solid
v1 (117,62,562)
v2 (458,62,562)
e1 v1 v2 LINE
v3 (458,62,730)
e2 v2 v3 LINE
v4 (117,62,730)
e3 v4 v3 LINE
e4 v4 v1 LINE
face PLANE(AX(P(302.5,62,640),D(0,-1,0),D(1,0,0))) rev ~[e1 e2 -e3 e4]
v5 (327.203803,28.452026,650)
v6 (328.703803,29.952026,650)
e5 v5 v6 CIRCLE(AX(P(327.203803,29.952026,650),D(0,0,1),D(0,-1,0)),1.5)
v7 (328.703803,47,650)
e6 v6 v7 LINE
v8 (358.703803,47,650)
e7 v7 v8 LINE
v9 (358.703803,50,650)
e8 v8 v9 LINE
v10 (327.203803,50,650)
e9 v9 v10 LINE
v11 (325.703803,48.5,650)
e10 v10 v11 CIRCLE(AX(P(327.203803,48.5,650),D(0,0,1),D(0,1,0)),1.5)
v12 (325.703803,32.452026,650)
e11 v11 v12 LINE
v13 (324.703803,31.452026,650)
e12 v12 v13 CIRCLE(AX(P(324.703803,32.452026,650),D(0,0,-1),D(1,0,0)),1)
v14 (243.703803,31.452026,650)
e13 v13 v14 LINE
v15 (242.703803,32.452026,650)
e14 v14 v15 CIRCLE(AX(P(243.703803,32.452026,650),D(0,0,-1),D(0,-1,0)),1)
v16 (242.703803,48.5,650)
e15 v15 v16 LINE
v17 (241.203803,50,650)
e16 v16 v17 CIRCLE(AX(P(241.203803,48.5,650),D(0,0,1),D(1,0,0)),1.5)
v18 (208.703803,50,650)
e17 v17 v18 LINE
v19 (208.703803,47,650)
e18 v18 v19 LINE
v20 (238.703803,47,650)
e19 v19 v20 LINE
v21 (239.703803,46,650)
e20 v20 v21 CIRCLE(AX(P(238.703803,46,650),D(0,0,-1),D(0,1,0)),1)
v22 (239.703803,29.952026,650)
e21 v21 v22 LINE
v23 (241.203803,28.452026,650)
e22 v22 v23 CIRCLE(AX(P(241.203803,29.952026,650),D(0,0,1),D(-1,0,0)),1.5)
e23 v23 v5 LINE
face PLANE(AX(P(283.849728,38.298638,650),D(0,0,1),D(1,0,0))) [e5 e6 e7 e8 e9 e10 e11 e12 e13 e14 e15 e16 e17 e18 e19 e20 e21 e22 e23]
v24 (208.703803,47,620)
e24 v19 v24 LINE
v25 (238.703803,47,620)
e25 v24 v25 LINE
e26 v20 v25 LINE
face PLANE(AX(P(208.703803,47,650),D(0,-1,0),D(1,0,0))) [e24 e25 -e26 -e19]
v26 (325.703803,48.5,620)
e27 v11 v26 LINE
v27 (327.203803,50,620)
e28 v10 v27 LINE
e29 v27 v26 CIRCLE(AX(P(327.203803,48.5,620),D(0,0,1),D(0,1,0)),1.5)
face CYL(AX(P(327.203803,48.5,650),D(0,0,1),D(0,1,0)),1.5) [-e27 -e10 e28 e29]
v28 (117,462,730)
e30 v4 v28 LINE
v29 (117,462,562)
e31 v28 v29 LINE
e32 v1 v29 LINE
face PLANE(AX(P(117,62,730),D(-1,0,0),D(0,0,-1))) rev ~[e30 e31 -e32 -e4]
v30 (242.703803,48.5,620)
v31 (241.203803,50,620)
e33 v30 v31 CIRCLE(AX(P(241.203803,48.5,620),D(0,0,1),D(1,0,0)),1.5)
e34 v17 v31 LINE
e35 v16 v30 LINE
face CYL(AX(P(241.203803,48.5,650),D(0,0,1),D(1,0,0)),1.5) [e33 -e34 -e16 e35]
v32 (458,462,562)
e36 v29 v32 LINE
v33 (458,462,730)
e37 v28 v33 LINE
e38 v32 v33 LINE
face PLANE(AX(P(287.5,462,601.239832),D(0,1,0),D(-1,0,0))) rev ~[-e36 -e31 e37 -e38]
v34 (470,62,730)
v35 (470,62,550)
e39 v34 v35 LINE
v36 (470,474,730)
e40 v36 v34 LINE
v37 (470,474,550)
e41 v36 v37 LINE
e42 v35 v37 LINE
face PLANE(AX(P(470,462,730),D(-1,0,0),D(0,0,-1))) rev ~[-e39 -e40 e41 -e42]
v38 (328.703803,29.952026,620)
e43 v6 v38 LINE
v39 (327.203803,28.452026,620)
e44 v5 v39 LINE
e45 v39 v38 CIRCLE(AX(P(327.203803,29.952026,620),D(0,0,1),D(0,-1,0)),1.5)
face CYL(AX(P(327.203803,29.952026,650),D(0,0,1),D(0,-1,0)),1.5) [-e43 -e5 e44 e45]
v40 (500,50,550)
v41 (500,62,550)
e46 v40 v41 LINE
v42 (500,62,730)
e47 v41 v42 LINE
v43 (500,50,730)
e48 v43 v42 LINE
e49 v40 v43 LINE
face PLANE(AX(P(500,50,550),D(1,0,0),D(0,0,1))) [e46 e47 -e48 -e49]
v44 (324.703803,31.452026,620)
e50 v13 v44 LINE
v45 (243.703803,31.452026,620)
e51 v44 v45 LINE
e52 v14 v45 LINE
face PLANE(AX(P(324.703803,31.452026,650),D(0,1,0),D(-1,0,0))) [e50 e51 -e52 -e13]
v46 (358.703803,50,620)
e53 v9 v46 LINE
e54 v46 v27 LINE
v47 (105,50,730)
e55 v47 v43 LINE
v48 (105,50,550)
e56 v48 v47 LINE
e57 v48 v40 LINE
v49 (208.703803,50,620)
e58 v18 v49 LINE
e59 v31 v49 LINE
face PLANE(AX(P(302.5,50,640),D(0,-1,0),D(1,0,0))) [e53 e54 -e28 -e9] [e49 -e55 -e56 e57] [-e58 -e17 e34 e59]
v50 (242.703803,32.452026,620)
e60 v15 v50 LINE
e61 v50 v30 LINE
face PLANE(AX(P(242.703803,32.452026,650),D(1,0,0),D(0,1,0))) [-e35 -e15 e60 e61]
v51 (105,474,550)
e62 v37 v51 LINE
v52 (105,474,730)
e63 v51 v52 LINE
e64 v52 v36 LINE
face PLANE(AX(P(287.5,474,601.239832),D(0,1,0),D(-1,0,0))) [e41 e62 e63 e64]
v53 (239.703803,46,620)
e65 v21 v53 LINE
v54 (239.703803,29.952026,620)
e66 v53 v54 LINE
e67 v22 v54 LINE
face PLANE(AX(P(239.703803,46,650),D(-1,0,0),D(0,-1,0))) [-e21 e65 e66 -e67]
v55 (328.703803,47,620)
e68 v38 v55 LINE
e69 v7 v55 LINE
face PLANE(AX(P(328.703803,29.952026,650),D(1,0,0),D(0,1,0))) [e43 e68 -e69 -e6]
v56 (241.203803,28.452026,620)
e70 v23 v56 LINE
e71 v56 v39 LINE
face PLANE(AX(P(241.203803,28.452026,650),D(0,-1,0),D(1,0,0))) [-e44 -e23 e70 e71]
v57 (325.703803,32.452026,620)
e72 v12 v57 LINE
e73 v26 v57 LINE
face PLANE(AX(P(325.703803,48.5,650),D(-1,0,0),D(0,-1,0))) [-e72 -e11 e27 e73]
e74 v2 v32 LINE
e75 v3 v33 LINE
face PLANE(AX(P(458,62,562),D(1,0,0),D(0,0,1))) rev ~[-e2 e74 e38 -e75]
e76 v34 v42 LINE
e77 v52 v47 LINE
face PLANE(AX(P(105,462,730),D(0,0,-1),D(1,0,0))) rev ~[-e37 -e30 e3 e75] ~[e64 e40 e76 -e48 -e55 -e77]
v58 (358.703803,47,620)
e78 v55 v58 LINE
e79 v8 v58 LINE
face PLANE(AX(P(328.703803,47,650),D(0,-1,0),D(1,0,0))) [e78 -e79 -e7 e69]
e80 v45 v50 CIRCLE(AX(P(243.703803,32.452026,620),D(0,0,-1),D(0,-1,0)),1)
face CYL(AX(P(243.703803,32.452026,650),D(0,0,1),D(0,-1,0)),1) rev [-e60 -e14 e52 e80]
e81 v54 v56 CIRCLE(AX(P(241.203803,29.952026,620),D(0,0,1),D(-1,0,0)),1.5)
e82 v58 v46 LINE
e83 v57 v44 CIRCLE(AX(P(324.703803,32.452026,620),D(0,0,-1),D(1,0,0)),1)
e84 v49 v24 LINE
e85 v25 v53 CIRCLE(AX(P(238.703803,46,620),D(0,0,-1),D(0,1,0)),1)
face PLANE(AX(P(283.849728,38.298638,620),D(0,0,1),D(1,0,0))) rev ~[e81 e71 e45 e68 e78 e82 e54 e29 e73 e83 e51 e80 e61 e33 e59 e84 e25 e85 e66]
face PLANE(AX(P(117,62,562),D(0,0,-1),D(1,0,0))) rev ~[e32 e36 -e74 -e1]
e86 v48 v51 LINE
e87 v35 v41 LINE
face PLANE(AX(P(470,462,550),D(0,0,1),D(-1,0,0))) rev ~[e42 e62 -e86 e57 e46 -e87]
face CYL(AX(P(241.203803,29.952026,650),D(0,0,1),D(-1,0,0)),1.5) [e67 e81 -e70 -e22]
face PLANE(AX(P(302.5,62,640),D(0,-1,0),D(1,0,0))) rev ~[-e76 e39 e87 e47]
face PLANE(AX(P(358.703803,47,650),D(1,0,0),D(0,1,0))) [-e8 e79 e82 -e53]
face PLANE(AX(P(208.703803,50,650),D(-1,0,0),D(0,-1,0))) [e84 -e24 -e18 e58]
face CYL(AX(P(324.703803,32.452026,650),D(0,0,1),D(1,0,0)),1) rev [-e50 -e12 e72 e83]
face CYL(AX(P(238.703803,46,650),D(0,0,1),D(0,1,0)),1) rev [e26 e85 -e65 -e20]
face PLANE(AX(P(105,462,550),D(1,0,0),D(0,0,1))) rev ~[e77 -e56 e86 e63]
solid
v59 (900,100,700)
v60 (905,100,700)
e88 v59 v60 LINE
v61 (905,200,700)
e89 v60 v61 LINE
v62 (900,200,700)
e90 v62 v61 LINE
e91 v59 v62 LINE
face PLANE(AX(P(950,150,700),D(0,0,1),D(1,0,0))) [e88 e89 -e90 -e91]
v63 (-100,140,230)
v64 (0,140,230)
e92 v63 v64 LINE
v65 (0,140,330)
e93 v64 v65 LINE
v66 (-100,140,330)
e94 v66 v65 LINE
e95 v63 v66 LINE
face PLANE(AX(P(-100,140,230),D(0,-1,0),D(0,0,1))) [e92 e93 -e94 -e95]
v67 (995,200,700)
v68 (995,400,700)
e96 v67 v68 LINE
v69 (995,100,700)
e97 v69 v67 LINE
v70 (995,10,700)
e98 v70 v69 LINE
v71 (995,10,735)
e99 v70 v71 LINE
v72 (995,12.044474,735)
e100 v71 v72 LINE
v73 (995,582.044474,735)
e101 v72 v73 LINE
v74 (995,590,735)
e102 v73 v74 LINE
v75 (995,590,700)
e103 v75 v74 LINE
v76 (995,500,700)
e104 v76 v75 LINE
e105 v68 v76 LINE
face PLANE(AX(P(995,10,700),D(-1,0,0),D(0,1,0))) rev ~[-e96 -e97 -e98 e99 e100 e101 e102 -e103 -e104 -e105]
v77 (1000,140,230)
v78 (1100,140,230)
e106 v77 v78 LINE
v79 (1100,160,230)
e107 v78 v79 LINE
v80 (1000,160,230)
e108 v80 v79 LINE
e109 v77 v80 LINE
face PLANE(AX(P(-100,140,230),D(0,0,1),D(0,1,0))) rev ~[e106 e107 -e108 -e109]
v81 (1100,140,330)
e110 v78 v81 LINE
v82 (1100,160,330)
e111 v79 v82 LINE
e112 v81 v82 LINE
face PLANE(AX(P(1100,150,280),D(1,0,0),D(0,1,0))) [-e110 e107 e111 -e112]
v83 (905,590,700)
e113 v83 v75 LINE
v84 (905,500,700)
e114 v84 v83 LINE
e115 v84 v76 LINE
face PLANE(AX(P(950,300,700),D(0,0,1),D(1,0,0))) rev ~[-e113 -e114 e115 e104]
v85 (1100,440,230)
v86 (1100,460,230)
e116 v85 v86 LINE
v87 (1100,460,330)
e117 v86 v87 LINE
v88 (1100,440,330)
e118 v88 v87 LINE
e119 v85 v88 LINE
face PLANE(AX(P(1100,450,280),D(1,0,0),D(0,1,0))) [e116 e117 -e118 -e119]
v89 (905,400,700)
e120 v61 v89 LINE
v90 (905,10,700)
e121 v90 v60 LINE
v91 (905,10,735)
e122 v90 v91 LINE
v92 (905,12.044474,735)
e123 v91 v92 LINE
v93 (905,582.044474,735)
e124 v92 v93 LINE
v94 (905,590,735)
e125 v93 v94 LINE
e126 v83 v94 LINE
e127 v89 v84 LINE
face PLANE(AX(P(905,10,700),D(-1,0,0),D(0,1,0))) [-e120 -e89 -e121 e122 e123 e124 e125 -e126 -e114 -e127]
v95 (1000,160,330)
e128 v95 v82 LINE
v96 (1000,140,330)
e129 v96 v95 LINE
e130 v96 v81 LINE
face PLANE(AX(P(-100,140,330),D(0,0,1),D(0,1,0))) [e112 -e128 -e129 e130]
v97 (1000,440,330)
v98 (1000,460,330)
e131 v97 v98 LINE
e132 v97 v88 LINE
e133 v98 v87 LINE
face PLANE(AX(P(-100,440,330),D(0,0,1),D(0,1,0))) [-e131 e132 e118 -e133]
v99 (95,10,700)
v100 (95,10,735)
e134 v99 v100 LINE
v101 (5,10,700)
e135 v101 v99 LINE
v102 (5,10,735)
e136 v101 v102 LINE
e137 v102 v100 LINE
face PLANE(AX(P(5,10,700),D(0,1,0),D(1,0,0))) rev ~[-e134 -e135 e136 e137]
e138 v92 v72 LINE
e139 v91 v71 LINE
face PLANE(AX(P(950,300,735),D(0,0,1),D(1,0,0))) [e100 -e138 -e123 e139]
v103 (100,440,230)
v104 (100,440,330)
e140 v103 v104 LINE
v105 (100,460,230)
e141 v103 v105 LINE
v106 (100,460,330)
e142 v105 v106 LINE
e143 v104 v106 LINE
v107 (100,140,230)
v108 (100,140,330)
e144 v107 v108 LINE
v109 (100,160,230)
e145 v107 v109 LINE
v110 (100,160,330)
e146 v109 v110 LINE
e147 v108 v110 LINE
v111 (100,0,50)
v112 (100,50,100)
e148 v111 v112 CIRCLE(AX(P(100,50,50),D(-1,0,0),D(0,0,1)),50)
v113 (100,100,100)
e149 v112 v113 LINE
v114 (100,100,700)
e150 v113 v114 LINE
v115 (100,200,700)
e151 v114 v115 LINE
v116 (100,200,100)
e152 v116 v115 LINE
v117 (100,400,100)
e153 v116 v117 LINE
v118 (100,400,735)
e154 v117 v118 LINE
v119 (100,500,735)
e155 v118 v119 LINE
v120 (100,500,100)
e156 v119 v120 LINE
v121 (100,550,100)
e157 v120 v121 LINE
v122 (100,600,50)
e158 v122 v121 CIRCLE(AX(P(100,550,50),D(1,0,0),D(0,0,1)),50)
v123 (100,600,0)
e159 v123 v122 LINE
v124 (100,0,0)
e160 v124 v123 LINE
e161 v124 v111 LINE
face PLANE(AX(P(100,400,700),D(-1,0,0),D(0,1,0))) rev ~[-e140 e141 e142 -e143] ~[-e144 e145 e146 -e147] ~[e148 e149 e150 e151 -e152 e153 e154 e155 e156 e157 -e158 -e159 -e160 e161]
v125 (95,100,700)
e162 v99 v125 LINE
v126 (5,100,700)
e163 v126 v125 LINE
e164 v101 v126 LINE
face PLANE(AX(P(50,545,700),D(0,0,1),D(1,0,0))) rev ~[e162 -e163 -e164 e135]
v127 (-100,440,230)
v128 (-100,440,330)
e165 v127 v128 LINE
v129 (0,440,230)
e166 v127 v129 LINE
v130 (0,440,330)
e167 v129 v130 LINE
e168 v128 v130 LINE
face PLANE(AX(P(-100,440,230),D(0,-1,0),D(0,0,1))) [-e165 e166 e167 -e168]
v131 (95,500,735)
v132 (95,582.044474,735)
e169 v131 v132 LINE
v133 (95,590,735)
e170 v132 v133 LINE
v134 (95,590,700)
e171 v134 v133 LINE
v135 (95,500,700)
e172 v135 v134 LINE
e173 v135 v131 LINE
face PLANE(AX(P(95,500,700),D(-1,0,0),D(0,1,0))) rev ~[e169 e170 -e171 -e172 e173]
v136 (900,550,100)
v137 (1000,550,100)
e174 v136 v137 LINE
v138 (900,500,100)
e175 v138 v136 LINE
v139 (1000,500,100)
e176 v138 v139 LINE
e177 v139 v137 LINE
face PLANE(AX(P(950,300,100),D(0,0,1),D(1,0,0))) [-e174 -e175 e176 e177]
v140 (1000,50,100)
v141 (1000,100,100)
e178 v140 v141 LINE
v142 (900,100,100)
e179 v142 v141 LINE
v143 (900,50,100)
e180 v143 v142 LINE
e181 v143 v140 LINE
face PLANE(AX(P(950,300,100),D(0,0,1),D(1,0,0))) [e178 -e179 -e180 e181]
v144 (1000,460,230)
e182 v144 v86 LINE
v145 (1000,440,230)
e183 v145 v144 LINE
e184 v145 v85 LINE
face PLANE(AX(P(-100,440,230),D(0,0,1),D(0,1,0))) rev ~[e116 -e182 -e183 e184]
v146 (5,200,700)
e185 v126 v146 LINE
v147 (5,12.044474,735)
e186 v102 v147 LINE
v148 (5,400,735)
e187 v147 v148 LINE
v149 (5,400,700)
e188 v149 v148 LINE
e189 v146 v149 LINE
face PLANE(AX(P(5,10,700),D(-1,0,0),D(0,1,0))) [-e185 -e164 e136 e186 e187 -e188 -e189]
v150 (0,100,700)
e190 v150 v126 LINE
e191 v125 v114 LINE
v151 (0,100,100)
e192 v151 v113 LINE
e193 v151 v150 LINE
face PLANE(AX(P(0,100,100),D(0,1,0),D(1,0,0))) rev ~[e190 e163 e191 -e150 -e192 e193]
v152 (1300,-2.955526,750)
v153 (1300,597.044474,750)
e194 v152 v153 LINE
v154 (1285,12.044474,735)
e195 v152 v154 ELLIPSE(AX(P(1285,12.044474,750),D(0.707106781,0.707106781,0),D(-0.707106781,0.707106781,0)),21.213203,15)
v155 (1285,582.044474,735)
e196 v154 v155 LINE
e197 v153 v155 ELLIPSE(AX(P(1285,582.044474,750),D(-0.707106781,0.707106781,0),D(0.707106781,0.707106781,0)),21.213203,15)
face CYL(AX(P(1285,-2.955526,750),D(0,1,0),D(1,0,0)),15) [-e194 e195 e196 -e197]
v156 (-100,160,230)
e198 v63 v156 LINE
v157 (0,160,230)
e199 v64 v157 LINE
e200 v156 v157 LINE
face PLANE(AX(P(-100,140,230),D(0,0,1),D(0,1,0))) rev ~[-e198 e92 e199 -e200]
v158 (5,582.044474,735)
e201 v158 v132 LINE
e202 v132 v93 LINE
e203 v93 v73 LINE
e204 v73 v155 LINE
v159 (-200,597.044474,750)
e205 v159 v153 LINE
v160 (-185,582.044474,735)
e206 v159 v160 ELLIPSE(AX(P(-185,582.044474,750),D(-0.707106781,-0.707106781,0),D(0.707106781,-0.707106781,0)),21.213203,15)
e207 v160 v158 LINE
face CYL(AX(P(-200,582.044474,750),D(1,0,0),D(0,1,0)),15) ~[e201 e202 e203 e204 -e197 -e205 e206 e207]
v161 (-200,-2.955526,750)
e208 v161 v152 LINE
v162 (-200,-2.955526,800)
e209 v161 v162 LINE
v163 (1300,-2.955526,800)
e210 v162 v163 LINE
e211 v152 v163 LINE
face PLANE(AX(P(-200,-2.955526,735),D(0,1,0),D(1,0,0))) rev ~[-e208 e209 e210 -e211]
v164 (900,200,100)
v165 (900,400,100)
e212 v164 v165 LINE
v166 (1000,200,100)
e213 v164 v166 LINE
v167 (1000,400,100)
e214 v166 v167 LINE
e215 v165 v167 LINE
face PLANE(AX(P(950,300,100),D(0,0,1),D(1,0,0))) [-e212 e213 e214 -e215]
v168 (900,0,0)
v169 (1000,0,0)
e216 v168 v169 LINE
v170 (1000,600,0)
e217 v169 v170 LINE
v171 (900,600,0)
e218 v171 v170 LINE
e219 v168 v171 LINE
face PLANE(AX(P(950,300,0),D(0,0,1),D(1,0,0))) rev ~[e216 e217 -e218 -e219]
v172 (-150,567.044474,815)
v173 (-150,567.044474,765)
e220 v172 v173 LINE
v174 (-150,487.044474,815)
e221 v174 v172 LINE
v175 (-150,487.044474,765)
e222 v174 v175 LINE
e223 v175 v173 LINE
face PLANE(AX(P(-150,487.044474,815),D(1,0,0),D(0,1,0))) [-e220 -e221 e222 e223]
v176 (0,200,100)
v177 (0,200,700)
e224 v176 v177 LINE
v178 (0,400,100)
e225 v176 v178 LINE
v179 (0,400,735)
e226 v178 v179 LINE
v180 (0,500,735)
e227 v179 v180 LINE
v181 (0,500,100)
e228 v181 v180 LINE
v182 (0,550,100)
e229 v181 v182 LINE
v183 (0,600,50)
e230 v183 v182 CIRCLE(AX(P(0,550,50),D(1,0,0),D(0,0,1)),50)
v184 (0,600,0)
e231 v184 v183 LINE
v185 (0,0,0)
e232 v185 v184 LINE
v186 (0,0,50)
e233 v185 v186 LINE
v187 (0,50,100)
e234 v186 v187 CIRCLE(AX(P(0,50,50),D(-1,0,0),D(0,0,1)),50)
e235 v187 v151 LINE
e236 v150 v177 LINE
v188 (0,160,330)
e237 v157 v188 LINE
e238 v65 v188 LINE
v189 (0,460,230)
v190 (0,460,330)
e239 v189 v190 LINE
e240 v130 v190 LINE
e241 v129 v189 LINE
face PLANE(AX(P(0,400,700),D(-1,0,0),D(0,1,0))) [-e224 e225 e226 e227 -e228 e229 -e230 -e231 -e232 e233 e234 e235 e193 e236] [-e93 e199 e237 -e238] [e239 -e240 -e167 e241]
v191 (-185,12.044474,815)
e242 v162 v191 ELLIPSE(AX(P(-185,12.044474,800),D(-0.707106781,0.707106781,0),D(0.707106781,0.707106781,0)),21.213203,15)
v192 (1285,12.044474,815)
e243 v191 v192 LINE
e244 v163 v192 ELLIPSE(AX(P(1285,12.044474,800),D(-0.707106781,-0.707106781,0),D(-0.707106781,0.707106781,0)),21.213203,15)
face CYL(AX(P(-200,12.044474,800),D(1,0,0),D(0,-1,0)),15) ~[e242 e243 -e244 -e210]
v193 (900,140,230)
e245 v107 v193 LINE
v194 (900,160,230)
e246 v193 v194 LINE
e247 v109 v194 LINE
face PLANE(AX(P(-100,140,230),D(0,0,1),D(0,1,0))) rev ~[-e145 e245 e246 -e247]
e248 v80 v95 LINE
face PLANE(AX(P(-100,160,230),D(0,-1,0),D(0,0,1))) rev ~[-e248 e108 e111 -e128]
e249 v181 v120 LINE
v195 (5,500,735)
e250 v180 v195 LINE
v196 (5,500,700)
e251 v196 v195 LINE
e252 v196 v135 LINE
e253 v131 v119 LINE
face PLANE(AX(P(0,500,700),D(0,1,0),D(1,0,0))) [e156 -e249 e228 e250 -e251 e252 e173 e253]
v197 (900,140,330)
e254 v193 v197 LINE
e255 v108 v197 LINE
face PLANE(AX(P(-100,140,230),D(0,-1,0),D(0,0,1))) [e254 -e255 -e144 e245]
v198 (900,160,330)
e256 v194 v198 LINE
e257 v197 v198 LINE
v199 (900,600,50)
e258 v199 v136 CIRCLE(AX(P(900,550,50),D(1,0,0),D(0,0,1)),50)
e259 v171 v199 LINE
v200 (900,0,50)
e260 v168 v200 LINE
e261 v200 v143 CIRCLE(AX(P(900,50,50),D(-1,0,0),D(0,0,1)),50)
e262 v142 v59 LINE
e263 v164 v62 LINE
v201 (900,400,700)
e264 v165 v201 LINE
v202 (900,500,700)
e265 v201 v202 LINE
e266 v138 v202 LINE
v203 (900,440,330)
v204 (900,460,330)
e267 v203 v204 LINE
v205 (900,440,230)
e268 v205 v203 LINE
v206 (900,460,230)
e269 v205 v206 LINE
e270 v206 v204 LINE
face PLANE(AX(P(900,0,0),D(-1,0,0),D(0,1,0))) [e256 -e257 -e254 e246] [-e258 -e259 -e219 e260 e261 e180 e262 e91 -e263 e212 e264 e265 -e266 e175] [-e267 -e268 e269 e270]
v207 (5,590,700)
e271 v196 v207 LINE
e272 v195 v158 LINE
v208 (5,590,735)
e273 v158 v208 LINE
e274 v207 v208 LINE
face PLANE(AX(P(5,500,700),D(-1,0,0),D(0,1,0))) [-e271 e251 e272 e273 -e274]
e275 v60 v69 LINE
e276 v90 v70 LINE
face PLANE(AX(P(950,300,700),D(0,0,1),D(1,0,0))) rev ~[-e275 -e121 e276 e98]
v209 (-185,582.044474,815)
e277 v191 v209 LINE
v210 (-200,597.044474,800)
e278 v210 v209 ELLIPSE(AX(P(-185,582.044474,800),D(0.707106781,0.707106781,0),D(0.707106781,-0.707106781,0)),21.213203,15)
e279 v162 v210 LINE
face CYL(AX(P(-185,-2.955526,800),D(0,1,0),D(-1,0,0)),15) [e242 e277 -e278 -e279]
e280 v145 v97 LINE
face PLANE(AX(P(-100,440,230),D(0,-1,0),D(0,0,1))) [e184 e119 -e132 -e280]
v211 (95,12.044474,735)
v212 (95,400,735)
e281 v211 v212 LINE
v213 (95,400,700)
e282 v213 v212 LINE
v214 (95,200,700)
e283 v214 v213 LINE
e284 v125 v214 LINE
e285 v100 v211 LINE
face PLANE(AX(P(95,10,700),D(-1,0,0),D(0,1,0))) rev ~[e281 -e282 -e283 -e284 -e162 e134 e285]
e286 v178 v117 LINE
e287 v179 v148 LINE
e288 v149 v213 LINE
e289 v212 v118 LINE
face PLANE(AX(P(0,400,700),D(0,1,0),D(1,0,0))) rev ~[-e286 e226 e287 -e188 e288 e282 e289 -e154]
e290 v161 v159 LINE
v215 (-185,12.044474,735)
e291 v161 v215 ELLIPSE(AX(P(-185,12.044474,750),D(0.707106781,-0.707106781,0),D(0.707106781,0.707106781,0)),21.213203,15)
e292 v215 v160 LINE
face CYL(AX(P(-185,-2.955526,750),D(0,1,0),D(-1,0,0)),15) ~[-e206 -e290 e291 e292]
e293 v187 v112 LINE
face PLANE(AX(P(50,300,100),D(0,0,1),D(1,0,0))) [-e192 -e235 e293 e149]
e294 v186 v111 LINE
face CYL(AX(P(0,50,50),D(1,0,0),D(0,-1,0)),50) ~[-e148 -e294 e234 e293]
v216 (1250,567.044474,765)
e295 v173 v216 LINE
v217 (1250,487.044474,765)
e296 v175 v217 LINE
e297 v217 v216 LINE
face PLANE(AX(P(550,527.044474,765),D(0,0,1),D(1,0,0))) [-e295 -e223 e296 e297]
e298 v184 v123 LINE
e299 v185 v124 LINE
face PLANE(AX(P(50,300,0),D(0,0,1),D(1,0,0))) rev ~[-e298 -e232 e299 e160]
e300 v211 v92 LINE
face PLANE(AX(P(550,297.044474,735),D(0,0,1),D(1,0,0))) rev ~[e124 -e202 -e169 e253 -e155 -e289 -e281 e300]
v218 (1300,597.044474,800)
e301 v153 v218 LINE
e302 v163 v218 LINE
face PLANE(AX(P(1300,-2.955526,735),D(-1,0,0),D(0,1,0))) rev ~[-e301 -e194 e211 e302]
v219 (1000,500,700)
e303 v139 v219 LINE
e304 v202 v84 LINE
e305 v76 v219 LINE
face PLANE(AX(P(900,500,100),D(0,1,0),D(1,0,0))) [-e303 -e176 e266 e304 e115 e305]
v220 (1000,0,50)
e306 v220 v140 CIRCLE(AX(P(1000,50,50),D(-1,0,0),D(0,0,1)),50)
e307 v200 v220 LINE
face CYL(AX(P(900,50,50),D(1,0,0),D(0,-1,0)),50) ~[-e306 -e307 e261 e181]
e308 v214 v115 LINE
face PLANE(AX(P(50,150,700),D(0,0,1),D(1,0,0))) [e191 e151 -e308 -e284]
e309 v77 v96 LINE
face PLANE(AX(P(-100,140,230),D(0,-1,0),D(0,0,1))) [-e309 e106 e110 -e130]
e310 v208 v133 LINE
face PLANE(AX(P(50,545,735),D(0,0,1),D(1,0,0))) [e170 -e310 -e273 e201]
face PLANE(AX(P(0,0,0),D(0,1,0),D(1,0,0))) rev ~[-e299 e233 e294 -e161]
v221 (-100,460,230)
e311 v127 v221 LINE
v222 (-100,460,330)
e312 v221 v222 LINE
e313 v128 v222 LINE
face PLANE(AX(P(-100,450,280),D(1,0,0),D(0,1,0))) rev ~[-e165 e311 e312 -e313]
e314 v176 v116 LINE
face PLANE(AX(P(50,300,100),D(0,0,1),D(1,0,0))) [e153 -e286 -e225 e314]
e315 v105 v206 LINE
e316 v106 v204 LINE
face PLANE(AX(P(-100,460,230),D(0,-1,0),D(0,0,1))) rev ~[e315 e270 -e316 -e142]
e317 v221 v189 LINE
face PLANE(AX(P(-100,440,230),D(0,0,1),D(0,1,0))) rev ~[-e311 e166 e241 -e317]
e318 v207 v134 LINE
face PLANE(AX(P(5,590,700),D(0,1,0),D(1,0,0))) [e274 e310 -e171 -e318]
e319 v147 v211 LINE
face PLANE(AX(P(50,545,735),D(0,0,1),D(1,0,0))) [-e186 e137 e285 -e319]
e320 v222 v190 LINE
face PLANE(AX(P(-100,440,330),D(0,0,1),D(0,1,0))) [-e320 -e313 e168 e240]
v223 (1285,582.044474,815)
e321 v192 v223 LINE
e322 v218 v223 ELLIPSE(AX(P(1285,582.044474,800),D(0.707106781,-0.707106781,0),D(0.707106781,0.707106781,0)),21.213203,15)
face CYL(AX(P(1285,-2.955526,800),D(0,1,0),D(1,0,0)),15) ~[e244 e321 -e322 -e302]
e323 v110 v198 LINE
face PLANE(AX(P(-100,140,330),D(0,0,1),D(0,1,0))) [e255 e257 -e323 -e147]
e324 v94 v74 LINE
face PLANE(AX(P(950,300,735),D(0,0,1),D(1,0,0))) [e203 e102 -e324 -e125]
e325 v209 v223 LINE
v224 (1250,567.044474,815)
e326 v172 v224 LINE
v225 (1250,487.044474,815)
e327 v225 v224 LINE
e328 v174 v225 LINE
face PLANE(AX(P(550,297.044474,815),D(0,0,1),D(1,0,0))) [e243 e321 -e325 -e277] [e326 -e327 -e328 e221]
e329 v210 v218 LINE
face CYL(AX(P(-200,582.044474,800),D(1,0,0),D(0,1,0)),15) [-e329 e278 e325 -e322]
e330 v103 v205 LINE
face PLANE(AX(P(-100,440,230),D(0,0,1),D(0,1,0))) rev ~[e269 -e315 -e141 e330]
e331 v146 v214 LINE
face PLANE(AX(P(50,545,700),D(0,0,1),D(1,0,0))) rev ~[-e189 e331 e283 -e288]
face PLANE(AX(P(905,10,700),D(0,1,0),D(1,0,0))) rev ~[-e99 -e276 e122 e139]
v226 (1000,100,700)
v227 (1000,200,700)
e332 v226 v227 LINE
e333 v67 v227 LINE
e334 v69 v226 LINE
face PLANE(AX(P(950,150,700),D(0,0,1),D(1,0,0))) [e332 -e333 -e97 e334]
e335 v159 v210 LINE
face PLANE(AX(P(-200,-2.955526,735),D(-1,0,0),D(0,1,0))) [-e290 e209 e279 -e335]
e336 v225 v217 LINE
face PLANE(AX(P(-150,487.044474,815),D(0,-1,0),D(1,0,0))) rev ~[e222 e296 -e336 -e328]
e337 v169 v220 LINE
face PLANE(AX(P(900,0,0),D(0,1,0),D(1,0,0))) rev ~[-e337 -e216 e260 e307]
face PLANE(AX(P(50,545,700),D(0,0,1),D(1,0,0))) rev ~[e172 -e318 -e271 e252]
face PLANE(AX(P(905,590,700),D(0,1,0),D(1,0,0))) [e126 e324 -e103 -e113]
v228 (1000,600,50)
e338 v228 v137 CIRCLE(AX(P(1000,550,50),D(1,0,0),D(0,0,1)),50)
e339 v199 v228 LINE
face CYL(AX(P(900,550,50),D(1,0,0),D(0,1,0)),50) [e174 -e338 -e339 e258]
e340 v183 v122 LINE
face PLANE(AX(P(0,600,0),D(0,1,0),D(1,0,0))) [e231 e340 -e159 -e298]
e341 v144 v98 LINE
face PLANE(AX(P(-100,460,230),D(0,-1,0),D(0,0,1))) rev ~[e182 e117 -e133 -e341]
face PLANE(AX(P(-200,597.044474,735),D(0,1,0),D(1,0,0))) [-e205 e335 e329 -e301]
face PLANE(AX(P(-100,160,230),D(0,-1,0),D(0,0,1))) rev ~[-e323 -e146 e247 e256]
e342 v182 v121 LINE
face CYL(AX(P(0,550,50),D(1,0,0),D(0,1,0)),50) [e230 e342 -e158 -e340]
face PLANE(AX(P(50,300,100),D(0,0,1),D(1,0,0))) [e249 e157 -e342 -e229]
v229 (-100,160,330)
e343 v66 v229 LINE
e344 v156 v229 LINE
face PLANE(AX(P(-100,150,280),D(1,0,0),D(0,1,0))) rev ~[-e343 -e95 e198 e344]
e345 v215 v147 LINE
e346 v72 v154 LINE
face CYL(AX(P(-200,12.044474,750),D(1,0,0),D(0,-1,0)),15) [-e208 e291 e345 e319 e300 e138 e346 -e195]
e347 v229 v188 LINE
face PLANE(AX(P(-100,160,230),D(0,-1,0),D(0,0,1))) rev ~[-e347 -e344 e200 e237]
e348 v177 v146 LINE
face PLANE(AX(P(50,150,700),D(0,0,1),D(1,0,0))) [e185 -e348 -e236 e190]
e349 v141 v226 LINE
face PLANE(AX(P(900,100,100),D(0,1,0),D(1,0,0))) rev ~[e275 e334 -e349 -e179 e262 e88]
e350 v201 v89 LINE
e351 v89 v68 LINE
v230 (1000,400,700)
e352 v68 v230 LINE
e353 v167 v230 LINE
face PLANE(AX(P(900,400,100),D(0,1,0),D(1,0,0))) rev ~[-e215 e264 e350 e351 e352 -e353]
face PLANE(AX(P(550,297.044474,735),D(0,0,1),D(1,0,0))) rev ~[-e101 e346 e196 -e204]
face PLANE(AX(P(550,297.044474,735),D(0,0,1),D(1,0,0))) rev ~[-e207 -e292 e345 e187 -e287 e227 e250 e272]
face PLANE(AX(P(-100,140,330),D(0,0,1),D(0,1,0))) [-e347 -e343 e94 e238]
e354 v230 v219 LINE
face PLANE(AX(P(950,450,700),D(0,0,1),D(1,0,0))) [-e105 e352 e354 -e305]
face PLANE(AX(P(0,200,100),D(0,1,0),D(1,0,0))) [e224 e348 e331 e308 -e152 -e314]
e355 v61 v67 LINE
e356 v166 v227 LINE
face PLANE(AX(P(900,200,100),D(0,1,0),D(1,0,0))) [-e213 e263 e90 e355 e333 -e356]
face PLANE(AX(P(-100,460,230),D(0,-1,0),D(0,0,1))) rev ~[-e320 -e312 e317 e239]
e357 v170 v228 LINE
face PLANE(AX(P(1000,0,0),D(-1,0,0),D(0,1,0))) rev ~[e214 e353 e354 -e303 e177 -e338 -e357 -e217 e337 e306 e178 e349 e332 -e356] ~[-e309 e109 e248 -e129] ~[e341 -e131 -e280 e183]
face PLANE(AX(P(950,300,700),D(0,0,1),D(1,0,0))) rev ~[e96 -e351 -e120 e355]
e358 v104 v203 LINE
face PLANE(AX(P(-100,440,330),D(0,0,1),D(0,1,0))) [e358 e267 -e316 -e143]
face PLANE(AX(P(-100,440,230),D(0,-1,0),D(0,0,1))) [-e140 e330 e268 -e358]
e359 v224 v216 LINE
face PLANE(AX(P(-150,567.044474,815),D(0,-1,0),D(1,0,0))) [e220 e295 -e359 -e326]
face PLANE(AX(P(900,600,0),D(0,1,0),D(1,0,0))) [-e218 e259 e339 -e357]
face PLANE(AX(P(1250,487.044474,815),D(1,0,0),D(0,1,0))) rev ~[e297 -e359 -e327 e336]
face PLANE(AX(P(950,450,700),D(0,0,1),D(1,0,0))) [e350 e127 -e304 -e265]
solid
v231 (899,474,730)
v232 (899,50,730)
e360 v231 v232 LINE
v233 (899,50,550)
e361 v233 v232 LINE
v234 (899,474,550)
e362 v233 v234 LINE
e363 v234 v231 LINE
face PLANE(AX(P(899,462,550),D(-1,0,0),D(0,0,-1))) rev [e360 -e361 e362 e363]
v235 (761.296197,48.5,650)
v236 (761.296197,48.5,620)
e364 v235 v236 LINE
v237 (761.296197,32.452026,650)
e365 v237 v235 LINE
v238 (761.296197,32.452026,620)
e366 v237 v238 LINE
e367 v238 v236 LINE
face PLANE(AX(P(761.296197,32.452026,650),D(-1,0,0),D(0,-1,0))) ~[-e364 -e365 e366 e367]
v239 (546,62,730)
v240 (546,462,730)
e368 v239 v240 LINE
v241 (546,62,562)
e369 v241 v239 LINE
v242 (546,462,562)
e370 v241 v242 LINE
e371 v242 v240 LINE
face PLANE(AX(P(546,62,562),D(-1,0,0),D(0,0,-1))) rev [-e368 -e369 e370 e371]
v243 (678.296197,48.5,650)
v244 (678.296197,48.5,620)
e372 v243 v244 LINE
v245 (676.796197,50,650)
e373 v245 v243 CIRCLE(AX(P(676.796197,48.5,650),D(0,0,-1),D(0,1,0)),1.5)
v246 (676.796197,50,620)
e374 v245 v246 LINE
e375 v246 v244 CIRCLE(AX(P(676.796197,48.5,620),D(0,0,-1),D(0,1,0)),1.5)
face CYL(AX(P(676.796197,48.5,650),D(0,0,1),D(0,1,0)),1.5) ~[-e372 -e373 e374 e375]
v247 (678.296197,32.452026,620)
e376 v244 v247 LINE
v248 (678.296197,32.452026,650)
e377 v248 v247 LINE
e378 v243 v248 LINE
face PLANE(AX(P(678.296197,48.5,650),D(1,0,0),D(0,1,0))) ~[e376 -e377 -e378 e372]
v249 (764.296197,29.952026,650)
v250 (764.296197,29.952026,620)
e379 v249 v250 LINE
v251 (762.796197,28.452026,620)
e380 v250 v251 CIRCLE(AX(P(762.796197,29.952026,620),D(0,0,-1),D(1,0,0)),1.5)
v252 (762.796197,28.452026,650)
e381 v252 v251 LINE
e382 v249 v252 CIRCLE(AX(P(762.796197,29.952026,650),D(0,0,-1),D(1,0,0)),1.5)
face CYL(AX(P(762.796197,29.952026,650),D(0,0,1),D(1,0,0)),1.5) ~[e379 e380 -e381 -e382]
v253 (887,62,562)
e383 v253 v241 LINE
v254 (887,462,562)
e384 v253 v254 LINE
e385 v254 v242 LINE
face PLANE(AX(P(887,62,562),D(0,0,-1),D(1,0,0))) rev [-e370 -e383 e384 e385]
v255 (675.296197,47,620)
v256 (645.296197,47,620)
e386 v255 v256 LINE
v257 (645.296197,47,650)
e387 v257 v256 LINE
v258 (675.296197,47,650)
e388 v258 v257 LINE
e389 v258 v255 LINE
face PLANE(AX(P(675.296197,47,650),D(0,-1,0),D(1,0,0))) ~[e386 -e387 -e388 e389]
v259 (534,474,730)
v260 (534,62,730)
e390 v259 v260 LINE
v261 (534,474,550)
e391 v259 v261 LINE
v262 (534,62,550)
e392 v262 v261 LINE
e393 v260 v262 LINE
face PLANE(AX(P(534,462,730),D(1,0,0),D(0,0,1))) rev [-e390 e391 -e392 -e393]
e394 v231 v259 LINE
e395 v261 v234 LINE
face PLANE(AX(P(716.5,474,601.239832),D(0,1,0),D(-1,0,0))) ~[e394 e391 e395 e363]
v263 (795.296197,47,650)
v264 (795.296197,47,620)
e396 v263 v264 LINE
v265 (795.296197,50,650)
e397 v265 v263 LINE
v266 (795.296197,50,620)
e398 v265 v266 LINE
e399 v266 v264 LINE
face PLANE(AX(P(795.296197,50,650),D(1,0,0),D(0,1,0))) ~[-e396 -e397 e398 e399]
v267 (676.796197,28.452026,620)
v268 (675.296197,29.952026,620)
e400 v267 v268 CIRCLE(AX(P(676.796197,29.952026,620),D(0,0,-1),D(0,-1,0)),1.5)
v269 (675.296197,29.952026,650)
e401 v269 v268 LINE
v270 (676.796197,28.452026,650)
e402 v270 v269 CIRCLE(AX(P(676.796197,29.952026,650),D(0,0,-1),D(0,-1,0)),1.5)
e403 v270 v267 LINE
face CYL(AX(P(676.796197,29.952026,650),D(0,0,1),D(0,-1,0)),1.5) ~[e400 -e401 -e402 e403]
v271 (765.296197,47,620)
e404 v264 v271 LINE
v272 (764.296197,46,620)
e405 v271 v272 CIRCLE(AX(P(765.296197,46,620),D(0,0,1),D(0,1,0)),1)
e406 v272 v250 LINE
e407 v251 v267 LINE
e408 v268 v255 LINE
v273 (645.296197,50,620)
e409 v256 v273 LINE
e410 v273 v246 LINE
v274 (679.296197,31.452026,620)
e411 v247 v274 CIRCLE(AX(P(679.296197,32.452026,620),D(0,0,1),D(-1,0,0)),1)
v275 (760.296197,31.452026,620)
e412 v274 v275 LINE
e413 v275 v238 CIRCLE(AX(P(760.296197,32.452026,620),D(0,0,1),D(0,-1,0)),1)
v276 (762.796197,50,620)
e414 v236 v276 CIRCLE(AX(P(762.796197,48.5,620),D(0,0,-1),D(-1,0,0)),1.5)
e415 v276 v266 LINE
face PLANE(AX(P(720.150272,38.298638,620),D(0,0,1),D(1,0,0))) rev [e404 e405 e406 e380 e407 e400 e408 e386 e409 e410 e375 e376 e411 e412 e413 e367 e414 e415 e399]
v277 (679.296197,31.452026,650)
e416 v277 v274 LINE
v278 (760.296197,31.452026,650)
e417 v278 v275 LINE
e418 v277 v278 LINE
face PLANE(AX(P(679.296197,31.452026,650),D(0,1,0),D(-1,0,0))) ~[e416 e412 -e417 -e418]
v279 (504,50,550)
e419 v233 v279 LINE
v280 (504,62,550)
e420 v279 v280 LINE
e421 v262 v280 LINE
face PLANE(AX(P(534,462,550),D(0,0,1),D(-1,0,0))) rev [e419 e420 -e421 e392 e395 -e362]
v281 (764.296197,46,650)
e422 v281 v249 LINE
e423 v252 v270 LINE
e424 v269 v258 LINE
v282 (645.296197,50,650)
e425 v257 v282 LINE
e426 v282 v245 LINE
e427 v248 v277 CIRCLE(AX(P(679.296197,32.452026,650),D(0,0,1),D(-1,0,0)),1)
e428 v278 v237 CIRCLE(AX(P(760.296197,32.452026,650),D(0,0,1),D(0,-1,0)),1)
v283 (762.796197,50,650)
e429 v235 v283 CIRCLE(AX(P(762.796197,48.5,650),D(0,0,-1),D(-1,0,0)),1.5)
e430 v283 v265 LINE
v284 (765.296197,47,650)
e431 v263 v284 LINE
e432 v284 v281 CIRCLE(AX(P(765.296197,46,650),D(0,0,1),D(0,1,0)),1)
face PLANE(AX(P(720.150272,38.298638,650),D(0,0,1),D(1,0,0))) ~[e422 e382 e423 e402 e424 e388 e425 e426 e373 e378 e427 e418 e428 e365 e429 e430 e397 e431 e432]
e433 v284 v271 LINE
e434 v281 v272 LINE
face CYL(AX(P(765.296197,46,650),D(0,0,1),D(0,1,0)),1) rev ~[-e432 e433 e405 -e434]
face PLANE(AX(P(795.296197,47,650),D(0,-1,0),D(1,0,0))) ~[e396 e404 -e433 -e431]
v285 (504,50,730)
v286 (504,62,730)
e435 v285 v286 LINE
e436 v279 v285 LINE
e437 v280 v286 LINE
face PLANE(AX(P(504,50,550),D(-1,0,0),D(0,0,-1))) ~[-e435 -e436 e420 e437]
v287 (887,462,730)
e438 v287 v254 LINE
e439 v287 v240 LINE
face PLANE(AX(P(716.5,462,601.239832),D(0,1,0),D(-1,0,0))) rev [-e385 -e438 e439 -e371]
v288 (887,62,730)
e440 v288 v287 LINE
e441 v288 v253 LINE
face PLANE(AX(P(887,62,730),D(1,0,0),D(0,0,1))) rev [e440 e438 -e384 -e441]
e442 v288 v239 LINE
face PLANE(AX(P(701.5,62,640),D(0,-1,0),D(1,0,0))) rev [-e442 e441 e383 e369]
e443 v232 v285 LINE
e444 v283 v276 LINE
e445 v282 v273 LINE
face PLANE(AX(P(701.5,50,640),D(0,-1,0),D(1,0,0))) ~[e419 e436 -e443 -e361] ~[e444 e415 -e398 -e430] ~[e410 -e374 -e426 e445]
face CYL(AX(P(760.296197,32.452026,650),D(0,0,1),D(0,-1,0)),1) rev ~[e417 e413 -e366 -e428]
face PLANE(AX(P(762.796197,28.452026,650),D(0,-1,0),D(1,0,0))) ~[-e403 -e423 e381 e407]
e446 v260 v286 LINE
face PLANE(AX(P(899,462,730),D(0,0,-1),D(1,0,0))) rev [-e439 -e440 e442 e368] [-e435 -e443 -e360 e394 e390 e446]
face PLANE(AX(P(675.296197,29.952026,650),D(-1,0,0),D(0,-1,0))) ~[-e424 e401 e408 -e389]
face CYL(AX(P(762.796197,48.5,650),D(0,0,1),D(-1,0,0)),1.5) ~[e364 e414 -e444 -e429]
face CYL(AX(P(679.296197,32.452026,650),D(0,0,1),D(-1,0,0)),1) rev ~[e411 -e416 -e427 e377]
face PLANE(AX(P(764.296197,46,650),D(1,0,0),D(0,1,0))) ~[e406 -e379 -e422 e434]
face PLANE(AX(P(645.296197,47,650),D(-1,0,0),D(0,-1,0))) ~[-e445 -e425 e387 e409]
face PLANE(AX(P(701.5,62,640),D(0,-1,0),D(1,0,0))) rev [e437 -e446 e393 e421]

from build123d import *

# Parameters (mm, degrees)
F0_W      = 100
F0_H      = 600
F1_DEPTH  = 100
F2_W      = 100
F2_H      = 100
F3_DEPTH  = 600
F5_W      = 20
F5_H      = 100
F6_DEPTH  = 1200
F7_R      = 50
F7_2_R    = 50
F8_W      = 90
F8_H      = 580
F9_DEPTH  = 35
F8_H_2    = 90
F8_W_2    = 5
F8_H_3    = 100
F8_H_4    = 390
F10_W     = 1500
F10_H     = 600
F10_W_2   = 90
F10_H_2   = 580
F11_DEPTH = 80
F12_R     = 15
F14_W     = 1400
F14_H     = 80
F15_DEPTH = 50
F17_W     = 395
F17_H     = 180
F18_DEPTH = 12
F20_DEPTH = 400
F21_W     = 341
F21_H     = 168
F22_DEPTH = 12
F25_DEPTH = 30


with BuildPart() as f1:
    # F0 (on Top) → F1 (new body)
    with BuildSketch(Plane.XY):
        with Locations((50, 300)):
            Rectangle(F0_W, F0_H)
    extrude(amount=F1_DEPTH)

    # F7
    f7_edges = [f1.edges().sort_by_distance(p)[0] for p in [
        (50, 600, 100),
        (50, 0, 100),
    ]]
    fillet(f7_edges, radius=F7_R)


with BuildPart() as f1b:
    # F0 (on Top) → F1, piece 2 (new body)
    with BuildSketch(Plane.XY):
        with Locations((950, 300)):
            Rectangle(F0_W, F0_H)
    extrude(amount=F1_DEPTH)

    # F7#2
    f7_2_edges = [f1b.edges().sort_by_distance(p)[0] for p in [
        (950, 0, 100),
        (950, 600, 100),
    ]]
    fillet(f7_2_edges, radius=F7_2_R)


with BuildPart() as f3:
    # F2 (on face) → F3 (new body)
    with BuildSketch(Plane.XY.offset(100)):
        with Locations((50, 450)):
            Rectangle(F2_W, F2_H)
    extrude(amount=F3_DEPTH)


with BuildPart() as f3b:
    # F2 (on face) → F3, piece 2 (new body)
    with BuildSketch(Plane.XY.offset(100)):
        with Locations((950, 450)):
            Rectangle(F2_W, F2_H)
    extrude(amount=F3_DEPTH)


with BuildPart() as f3c:
    # F2 (on face) → F3, piece 3 (new body)
    with BuildSketch(Plane.XY.offset(100)):
        with Locations((950, 150)):
            Rectangle(F2_W, F2_H)
    extrude(amount=F3_DEPTH)


with BuildPart() as f3d:
    # F2 (on face) → F3, piece 4 (new body)
    with BuildSketch(Plane.XY.offset(100)):
        with Locations((50, 150)):
            Rectangle(F2_W, F2_H)
    extrude(amount=F3_DEPTH)


with BuildPart() as f6:
    # F5 (on offset) → F6 (new body)
    with BuildSketch(Plane.YZ.offset(-100)):
        with Locations((450, 280)):
            Rectangle(F5_W, F5_H)
    extrude(amount=F6_DEPTH)


with BuildPart() as f6b:
    # F5 (on offset) → F6, piece 2 (new body)
    with BuildSketch(Plane.YZ.offset(-100)):
        with Locations((150, 280)):
            Rectangle(F5_W, F5_H)
    extrude(amount=F6_DEPTH)


with BuildPart() as f9:
    # F8 (on face) → F9 (new body)
    with BuildSketch(Plane.XY.offset(700)):
        with Locations((950, 300)):
            Rectangle(F8_W, F8_H)
    extrude(amount=F9_DEPTH)


with BuildPart() as f9b:
    # F8 (on face) → F9, piece 2 (new body)
    with BuildSketch(Plane.XY.offset(700)):
        with Locations((50, 545)):
            Rectangle(F8_W, F8_H_2)
        with Locations((2.5, 450)):
            Rectangle(F8_W_2, F8_H_3)
        with Locations((50, 450)):
            Rectangle(F8_W, F8_H_3)
        with Locations((97.5, 450)):
            Rectangle(F8_W_2, F8_H_3)
        with Locations((50, 205)):
            Rectangle(F8_W, F8_H_4)
    extrude(amount=F9_DEPTH)


with BuildPart() as f11:
    # F10 (on face) → F11 (new body)
    with BuildSketch(Plane.XY.offset(735)):
        with Locations((550, 297.044474259)):
            Rectangle(F10_W, F10_H)
        with Locations((950, 300)):
            Rectangle(F10_W_2, F10_H_2, mode=Mode.SUBTRACT)
        with Locations((950, 300)):
            Rectangle(F10_W_2, F10_H_2)
    extrude(amount=F11_DEPTH)

    # F12
    f12_edges = [f11.edges().sort_by_distance(p)[0] for p in [
        (1300, 297.044474, 815),
        (550, 597.044474, 815),
        (-200, 297.044474, 815),
        (550, -2.955526, 815),
        (1300, 297.044474, 735),
        (550, 597.044474, 735),
        (-200, 297.044474, 735),
        (550, -2.955526, 735),
    ]]
    fillet(f12_edges, radius=F12_R)


with BuildPart() as f1_1:
    add(f1.part)

    # F13: union F1b, F3, F3d, F3c, F3b, F6b, F6, F9b, F9, F11
    add(f1b.part)
    add(f3.part)
    add(f3d.part)
    add(f3c.part)
    add(f3b.part)
    add(f6b.part)
    add(f6.part)
    add(f9b.part)
    add(f9.part)
    add(f11.part)

    # F14 (on face) → F15 (cut)
    with BuildSketch(Plane.XY.offset(815)):
        with Locations((550, 527.044474259)):
            Rectangle(F14_W, F14_H)
    extrude(amount=-F15_DEPTH, mode=Mode.SUBTRACT)


with BuildPart() as f18:
    # F17 (on offset) → F18 (new body)
    with BuildSketch(Plane.XZ.offset(-50)):
        with Locations((302.5, 640)):
            Rectangle(F17_W, F17_H)
    extrude(amount=-F18_DEPTH)

    # F19 (on face) → F20 (join)
    with BuildSketch(Plane(origin=(0, 62, 0), x_dir=(-1, 0, 0), z_dir=(0, 1, 0))):
        Polygon((-458, 730), (-470, 730), (-470, 562), (-470, 550), (-458, 550), (-117, 550), (-105, 550), (-105, 562), (-105, 730), (-117, 730), (-117, 562), (-458, 562), align=None)
    extrude(amount=F20_DEPTH)

    # F21 (on face) → F22 (join)
    with BuildSketch(Plane(origin=(0, 462, 0), x_dir=(-1, 0, 0), z_dir=(0, 1, 0))):
        Polygon((-458, 730), (-470, 730), (-470, 550), (-105, 550), (-105, 730), (-117, 730), (-117, 562), (-458, 562), align=None)
        with Locations((-287.5, 646)):
            Rectangle(F21_W, F21_H)
    extrude(amount=F22_DEPTH)

    # F24 (on offset) → F25 (join)
    with BuildSketch(Plane.XY.offset(650)):
        with BuildLine():
            Line((241.2038033009, 50), (208.7038033009, 50))
            Line((208.7038033009, 50), (208.7038033009, 47))
            Line((208.7038033009, 47), (238.7038033009, 47))
            ThreePointArc((238.7038033009, 47), (239.410910082, 46.7071067812), (239.7038033009, 46))
            Line((239.7038033009, 46), (239.7038033009, 29.9520255708))
            ThreePointArc((239.7038033009, 29.9520255708), (240.1431431291, 28.8913653991), (241.2038033009, 28.4520255708))
            Line((241.2038033009, 28.4520255708), (242.7038033009, 28.4520255708))
            Line((242.7038033009, 28.4520255708), (325.7038033009, 28.4520255708))
            Line((325.7038033009, 28.4520255708), (327.2038033009, 28.4520255708))
            ThreePointArc((327.2038033009, 28.4520255708), (328.2644634726, 28.8913653991), (328.7038033009, 29.9520255708))
            Line((328.7038033009, 29.9520255708), (328.7038033009, 47))
            Line((328.7038033009, 47), (358.7038033009, 47))
            Line((358.7038033009, 47), (358.7038033009, 50))
            Line((358.7038033009, 50), (328.2038033009, 50))
            Line((328.2038033009, 50), (327.2038033009, 50))
            ThreePointArc((327.2038033009, 50), (326.1431431291, 49.5606601718), (325.7038033009, 48.5))
            Line((325.7038033009, 48.5), (325.7038033009, 32.4520255708))
            ThreePointArc((325.7038033009, 32.4520255708), (325.410910082, 31.7449187897), (324.7038033009, 31.4520255708))
            Line((324.7038033009, 31.4520255708), (243.7038033009, 31.4520255708))
            ThreePointArc((243.7038033009, 31.4520255708), (242.9966965197, 31.7449187897), (242.7038033009, 32.4520255708))
            Line((242.7038033009, 32.4520255708), (242.7038033009, 48.5))
            ThreePointArc((242.7038033009, 48.5), (242.2644634726, 49.5606601718), (241.2038033009, 50))
        make_face()
    extrude(amount=-F25_DEPTH)


with BuildPart() as f27_1:
    # F27: instance of F18
    add(f18.part.mirror(Plane(origin=(502, 56, 640), x_dir=(0, 1, 0), z_dir=(1, 0, 0))))


solid = Compound([f1_1.part, f18.part, f27_1.part])
